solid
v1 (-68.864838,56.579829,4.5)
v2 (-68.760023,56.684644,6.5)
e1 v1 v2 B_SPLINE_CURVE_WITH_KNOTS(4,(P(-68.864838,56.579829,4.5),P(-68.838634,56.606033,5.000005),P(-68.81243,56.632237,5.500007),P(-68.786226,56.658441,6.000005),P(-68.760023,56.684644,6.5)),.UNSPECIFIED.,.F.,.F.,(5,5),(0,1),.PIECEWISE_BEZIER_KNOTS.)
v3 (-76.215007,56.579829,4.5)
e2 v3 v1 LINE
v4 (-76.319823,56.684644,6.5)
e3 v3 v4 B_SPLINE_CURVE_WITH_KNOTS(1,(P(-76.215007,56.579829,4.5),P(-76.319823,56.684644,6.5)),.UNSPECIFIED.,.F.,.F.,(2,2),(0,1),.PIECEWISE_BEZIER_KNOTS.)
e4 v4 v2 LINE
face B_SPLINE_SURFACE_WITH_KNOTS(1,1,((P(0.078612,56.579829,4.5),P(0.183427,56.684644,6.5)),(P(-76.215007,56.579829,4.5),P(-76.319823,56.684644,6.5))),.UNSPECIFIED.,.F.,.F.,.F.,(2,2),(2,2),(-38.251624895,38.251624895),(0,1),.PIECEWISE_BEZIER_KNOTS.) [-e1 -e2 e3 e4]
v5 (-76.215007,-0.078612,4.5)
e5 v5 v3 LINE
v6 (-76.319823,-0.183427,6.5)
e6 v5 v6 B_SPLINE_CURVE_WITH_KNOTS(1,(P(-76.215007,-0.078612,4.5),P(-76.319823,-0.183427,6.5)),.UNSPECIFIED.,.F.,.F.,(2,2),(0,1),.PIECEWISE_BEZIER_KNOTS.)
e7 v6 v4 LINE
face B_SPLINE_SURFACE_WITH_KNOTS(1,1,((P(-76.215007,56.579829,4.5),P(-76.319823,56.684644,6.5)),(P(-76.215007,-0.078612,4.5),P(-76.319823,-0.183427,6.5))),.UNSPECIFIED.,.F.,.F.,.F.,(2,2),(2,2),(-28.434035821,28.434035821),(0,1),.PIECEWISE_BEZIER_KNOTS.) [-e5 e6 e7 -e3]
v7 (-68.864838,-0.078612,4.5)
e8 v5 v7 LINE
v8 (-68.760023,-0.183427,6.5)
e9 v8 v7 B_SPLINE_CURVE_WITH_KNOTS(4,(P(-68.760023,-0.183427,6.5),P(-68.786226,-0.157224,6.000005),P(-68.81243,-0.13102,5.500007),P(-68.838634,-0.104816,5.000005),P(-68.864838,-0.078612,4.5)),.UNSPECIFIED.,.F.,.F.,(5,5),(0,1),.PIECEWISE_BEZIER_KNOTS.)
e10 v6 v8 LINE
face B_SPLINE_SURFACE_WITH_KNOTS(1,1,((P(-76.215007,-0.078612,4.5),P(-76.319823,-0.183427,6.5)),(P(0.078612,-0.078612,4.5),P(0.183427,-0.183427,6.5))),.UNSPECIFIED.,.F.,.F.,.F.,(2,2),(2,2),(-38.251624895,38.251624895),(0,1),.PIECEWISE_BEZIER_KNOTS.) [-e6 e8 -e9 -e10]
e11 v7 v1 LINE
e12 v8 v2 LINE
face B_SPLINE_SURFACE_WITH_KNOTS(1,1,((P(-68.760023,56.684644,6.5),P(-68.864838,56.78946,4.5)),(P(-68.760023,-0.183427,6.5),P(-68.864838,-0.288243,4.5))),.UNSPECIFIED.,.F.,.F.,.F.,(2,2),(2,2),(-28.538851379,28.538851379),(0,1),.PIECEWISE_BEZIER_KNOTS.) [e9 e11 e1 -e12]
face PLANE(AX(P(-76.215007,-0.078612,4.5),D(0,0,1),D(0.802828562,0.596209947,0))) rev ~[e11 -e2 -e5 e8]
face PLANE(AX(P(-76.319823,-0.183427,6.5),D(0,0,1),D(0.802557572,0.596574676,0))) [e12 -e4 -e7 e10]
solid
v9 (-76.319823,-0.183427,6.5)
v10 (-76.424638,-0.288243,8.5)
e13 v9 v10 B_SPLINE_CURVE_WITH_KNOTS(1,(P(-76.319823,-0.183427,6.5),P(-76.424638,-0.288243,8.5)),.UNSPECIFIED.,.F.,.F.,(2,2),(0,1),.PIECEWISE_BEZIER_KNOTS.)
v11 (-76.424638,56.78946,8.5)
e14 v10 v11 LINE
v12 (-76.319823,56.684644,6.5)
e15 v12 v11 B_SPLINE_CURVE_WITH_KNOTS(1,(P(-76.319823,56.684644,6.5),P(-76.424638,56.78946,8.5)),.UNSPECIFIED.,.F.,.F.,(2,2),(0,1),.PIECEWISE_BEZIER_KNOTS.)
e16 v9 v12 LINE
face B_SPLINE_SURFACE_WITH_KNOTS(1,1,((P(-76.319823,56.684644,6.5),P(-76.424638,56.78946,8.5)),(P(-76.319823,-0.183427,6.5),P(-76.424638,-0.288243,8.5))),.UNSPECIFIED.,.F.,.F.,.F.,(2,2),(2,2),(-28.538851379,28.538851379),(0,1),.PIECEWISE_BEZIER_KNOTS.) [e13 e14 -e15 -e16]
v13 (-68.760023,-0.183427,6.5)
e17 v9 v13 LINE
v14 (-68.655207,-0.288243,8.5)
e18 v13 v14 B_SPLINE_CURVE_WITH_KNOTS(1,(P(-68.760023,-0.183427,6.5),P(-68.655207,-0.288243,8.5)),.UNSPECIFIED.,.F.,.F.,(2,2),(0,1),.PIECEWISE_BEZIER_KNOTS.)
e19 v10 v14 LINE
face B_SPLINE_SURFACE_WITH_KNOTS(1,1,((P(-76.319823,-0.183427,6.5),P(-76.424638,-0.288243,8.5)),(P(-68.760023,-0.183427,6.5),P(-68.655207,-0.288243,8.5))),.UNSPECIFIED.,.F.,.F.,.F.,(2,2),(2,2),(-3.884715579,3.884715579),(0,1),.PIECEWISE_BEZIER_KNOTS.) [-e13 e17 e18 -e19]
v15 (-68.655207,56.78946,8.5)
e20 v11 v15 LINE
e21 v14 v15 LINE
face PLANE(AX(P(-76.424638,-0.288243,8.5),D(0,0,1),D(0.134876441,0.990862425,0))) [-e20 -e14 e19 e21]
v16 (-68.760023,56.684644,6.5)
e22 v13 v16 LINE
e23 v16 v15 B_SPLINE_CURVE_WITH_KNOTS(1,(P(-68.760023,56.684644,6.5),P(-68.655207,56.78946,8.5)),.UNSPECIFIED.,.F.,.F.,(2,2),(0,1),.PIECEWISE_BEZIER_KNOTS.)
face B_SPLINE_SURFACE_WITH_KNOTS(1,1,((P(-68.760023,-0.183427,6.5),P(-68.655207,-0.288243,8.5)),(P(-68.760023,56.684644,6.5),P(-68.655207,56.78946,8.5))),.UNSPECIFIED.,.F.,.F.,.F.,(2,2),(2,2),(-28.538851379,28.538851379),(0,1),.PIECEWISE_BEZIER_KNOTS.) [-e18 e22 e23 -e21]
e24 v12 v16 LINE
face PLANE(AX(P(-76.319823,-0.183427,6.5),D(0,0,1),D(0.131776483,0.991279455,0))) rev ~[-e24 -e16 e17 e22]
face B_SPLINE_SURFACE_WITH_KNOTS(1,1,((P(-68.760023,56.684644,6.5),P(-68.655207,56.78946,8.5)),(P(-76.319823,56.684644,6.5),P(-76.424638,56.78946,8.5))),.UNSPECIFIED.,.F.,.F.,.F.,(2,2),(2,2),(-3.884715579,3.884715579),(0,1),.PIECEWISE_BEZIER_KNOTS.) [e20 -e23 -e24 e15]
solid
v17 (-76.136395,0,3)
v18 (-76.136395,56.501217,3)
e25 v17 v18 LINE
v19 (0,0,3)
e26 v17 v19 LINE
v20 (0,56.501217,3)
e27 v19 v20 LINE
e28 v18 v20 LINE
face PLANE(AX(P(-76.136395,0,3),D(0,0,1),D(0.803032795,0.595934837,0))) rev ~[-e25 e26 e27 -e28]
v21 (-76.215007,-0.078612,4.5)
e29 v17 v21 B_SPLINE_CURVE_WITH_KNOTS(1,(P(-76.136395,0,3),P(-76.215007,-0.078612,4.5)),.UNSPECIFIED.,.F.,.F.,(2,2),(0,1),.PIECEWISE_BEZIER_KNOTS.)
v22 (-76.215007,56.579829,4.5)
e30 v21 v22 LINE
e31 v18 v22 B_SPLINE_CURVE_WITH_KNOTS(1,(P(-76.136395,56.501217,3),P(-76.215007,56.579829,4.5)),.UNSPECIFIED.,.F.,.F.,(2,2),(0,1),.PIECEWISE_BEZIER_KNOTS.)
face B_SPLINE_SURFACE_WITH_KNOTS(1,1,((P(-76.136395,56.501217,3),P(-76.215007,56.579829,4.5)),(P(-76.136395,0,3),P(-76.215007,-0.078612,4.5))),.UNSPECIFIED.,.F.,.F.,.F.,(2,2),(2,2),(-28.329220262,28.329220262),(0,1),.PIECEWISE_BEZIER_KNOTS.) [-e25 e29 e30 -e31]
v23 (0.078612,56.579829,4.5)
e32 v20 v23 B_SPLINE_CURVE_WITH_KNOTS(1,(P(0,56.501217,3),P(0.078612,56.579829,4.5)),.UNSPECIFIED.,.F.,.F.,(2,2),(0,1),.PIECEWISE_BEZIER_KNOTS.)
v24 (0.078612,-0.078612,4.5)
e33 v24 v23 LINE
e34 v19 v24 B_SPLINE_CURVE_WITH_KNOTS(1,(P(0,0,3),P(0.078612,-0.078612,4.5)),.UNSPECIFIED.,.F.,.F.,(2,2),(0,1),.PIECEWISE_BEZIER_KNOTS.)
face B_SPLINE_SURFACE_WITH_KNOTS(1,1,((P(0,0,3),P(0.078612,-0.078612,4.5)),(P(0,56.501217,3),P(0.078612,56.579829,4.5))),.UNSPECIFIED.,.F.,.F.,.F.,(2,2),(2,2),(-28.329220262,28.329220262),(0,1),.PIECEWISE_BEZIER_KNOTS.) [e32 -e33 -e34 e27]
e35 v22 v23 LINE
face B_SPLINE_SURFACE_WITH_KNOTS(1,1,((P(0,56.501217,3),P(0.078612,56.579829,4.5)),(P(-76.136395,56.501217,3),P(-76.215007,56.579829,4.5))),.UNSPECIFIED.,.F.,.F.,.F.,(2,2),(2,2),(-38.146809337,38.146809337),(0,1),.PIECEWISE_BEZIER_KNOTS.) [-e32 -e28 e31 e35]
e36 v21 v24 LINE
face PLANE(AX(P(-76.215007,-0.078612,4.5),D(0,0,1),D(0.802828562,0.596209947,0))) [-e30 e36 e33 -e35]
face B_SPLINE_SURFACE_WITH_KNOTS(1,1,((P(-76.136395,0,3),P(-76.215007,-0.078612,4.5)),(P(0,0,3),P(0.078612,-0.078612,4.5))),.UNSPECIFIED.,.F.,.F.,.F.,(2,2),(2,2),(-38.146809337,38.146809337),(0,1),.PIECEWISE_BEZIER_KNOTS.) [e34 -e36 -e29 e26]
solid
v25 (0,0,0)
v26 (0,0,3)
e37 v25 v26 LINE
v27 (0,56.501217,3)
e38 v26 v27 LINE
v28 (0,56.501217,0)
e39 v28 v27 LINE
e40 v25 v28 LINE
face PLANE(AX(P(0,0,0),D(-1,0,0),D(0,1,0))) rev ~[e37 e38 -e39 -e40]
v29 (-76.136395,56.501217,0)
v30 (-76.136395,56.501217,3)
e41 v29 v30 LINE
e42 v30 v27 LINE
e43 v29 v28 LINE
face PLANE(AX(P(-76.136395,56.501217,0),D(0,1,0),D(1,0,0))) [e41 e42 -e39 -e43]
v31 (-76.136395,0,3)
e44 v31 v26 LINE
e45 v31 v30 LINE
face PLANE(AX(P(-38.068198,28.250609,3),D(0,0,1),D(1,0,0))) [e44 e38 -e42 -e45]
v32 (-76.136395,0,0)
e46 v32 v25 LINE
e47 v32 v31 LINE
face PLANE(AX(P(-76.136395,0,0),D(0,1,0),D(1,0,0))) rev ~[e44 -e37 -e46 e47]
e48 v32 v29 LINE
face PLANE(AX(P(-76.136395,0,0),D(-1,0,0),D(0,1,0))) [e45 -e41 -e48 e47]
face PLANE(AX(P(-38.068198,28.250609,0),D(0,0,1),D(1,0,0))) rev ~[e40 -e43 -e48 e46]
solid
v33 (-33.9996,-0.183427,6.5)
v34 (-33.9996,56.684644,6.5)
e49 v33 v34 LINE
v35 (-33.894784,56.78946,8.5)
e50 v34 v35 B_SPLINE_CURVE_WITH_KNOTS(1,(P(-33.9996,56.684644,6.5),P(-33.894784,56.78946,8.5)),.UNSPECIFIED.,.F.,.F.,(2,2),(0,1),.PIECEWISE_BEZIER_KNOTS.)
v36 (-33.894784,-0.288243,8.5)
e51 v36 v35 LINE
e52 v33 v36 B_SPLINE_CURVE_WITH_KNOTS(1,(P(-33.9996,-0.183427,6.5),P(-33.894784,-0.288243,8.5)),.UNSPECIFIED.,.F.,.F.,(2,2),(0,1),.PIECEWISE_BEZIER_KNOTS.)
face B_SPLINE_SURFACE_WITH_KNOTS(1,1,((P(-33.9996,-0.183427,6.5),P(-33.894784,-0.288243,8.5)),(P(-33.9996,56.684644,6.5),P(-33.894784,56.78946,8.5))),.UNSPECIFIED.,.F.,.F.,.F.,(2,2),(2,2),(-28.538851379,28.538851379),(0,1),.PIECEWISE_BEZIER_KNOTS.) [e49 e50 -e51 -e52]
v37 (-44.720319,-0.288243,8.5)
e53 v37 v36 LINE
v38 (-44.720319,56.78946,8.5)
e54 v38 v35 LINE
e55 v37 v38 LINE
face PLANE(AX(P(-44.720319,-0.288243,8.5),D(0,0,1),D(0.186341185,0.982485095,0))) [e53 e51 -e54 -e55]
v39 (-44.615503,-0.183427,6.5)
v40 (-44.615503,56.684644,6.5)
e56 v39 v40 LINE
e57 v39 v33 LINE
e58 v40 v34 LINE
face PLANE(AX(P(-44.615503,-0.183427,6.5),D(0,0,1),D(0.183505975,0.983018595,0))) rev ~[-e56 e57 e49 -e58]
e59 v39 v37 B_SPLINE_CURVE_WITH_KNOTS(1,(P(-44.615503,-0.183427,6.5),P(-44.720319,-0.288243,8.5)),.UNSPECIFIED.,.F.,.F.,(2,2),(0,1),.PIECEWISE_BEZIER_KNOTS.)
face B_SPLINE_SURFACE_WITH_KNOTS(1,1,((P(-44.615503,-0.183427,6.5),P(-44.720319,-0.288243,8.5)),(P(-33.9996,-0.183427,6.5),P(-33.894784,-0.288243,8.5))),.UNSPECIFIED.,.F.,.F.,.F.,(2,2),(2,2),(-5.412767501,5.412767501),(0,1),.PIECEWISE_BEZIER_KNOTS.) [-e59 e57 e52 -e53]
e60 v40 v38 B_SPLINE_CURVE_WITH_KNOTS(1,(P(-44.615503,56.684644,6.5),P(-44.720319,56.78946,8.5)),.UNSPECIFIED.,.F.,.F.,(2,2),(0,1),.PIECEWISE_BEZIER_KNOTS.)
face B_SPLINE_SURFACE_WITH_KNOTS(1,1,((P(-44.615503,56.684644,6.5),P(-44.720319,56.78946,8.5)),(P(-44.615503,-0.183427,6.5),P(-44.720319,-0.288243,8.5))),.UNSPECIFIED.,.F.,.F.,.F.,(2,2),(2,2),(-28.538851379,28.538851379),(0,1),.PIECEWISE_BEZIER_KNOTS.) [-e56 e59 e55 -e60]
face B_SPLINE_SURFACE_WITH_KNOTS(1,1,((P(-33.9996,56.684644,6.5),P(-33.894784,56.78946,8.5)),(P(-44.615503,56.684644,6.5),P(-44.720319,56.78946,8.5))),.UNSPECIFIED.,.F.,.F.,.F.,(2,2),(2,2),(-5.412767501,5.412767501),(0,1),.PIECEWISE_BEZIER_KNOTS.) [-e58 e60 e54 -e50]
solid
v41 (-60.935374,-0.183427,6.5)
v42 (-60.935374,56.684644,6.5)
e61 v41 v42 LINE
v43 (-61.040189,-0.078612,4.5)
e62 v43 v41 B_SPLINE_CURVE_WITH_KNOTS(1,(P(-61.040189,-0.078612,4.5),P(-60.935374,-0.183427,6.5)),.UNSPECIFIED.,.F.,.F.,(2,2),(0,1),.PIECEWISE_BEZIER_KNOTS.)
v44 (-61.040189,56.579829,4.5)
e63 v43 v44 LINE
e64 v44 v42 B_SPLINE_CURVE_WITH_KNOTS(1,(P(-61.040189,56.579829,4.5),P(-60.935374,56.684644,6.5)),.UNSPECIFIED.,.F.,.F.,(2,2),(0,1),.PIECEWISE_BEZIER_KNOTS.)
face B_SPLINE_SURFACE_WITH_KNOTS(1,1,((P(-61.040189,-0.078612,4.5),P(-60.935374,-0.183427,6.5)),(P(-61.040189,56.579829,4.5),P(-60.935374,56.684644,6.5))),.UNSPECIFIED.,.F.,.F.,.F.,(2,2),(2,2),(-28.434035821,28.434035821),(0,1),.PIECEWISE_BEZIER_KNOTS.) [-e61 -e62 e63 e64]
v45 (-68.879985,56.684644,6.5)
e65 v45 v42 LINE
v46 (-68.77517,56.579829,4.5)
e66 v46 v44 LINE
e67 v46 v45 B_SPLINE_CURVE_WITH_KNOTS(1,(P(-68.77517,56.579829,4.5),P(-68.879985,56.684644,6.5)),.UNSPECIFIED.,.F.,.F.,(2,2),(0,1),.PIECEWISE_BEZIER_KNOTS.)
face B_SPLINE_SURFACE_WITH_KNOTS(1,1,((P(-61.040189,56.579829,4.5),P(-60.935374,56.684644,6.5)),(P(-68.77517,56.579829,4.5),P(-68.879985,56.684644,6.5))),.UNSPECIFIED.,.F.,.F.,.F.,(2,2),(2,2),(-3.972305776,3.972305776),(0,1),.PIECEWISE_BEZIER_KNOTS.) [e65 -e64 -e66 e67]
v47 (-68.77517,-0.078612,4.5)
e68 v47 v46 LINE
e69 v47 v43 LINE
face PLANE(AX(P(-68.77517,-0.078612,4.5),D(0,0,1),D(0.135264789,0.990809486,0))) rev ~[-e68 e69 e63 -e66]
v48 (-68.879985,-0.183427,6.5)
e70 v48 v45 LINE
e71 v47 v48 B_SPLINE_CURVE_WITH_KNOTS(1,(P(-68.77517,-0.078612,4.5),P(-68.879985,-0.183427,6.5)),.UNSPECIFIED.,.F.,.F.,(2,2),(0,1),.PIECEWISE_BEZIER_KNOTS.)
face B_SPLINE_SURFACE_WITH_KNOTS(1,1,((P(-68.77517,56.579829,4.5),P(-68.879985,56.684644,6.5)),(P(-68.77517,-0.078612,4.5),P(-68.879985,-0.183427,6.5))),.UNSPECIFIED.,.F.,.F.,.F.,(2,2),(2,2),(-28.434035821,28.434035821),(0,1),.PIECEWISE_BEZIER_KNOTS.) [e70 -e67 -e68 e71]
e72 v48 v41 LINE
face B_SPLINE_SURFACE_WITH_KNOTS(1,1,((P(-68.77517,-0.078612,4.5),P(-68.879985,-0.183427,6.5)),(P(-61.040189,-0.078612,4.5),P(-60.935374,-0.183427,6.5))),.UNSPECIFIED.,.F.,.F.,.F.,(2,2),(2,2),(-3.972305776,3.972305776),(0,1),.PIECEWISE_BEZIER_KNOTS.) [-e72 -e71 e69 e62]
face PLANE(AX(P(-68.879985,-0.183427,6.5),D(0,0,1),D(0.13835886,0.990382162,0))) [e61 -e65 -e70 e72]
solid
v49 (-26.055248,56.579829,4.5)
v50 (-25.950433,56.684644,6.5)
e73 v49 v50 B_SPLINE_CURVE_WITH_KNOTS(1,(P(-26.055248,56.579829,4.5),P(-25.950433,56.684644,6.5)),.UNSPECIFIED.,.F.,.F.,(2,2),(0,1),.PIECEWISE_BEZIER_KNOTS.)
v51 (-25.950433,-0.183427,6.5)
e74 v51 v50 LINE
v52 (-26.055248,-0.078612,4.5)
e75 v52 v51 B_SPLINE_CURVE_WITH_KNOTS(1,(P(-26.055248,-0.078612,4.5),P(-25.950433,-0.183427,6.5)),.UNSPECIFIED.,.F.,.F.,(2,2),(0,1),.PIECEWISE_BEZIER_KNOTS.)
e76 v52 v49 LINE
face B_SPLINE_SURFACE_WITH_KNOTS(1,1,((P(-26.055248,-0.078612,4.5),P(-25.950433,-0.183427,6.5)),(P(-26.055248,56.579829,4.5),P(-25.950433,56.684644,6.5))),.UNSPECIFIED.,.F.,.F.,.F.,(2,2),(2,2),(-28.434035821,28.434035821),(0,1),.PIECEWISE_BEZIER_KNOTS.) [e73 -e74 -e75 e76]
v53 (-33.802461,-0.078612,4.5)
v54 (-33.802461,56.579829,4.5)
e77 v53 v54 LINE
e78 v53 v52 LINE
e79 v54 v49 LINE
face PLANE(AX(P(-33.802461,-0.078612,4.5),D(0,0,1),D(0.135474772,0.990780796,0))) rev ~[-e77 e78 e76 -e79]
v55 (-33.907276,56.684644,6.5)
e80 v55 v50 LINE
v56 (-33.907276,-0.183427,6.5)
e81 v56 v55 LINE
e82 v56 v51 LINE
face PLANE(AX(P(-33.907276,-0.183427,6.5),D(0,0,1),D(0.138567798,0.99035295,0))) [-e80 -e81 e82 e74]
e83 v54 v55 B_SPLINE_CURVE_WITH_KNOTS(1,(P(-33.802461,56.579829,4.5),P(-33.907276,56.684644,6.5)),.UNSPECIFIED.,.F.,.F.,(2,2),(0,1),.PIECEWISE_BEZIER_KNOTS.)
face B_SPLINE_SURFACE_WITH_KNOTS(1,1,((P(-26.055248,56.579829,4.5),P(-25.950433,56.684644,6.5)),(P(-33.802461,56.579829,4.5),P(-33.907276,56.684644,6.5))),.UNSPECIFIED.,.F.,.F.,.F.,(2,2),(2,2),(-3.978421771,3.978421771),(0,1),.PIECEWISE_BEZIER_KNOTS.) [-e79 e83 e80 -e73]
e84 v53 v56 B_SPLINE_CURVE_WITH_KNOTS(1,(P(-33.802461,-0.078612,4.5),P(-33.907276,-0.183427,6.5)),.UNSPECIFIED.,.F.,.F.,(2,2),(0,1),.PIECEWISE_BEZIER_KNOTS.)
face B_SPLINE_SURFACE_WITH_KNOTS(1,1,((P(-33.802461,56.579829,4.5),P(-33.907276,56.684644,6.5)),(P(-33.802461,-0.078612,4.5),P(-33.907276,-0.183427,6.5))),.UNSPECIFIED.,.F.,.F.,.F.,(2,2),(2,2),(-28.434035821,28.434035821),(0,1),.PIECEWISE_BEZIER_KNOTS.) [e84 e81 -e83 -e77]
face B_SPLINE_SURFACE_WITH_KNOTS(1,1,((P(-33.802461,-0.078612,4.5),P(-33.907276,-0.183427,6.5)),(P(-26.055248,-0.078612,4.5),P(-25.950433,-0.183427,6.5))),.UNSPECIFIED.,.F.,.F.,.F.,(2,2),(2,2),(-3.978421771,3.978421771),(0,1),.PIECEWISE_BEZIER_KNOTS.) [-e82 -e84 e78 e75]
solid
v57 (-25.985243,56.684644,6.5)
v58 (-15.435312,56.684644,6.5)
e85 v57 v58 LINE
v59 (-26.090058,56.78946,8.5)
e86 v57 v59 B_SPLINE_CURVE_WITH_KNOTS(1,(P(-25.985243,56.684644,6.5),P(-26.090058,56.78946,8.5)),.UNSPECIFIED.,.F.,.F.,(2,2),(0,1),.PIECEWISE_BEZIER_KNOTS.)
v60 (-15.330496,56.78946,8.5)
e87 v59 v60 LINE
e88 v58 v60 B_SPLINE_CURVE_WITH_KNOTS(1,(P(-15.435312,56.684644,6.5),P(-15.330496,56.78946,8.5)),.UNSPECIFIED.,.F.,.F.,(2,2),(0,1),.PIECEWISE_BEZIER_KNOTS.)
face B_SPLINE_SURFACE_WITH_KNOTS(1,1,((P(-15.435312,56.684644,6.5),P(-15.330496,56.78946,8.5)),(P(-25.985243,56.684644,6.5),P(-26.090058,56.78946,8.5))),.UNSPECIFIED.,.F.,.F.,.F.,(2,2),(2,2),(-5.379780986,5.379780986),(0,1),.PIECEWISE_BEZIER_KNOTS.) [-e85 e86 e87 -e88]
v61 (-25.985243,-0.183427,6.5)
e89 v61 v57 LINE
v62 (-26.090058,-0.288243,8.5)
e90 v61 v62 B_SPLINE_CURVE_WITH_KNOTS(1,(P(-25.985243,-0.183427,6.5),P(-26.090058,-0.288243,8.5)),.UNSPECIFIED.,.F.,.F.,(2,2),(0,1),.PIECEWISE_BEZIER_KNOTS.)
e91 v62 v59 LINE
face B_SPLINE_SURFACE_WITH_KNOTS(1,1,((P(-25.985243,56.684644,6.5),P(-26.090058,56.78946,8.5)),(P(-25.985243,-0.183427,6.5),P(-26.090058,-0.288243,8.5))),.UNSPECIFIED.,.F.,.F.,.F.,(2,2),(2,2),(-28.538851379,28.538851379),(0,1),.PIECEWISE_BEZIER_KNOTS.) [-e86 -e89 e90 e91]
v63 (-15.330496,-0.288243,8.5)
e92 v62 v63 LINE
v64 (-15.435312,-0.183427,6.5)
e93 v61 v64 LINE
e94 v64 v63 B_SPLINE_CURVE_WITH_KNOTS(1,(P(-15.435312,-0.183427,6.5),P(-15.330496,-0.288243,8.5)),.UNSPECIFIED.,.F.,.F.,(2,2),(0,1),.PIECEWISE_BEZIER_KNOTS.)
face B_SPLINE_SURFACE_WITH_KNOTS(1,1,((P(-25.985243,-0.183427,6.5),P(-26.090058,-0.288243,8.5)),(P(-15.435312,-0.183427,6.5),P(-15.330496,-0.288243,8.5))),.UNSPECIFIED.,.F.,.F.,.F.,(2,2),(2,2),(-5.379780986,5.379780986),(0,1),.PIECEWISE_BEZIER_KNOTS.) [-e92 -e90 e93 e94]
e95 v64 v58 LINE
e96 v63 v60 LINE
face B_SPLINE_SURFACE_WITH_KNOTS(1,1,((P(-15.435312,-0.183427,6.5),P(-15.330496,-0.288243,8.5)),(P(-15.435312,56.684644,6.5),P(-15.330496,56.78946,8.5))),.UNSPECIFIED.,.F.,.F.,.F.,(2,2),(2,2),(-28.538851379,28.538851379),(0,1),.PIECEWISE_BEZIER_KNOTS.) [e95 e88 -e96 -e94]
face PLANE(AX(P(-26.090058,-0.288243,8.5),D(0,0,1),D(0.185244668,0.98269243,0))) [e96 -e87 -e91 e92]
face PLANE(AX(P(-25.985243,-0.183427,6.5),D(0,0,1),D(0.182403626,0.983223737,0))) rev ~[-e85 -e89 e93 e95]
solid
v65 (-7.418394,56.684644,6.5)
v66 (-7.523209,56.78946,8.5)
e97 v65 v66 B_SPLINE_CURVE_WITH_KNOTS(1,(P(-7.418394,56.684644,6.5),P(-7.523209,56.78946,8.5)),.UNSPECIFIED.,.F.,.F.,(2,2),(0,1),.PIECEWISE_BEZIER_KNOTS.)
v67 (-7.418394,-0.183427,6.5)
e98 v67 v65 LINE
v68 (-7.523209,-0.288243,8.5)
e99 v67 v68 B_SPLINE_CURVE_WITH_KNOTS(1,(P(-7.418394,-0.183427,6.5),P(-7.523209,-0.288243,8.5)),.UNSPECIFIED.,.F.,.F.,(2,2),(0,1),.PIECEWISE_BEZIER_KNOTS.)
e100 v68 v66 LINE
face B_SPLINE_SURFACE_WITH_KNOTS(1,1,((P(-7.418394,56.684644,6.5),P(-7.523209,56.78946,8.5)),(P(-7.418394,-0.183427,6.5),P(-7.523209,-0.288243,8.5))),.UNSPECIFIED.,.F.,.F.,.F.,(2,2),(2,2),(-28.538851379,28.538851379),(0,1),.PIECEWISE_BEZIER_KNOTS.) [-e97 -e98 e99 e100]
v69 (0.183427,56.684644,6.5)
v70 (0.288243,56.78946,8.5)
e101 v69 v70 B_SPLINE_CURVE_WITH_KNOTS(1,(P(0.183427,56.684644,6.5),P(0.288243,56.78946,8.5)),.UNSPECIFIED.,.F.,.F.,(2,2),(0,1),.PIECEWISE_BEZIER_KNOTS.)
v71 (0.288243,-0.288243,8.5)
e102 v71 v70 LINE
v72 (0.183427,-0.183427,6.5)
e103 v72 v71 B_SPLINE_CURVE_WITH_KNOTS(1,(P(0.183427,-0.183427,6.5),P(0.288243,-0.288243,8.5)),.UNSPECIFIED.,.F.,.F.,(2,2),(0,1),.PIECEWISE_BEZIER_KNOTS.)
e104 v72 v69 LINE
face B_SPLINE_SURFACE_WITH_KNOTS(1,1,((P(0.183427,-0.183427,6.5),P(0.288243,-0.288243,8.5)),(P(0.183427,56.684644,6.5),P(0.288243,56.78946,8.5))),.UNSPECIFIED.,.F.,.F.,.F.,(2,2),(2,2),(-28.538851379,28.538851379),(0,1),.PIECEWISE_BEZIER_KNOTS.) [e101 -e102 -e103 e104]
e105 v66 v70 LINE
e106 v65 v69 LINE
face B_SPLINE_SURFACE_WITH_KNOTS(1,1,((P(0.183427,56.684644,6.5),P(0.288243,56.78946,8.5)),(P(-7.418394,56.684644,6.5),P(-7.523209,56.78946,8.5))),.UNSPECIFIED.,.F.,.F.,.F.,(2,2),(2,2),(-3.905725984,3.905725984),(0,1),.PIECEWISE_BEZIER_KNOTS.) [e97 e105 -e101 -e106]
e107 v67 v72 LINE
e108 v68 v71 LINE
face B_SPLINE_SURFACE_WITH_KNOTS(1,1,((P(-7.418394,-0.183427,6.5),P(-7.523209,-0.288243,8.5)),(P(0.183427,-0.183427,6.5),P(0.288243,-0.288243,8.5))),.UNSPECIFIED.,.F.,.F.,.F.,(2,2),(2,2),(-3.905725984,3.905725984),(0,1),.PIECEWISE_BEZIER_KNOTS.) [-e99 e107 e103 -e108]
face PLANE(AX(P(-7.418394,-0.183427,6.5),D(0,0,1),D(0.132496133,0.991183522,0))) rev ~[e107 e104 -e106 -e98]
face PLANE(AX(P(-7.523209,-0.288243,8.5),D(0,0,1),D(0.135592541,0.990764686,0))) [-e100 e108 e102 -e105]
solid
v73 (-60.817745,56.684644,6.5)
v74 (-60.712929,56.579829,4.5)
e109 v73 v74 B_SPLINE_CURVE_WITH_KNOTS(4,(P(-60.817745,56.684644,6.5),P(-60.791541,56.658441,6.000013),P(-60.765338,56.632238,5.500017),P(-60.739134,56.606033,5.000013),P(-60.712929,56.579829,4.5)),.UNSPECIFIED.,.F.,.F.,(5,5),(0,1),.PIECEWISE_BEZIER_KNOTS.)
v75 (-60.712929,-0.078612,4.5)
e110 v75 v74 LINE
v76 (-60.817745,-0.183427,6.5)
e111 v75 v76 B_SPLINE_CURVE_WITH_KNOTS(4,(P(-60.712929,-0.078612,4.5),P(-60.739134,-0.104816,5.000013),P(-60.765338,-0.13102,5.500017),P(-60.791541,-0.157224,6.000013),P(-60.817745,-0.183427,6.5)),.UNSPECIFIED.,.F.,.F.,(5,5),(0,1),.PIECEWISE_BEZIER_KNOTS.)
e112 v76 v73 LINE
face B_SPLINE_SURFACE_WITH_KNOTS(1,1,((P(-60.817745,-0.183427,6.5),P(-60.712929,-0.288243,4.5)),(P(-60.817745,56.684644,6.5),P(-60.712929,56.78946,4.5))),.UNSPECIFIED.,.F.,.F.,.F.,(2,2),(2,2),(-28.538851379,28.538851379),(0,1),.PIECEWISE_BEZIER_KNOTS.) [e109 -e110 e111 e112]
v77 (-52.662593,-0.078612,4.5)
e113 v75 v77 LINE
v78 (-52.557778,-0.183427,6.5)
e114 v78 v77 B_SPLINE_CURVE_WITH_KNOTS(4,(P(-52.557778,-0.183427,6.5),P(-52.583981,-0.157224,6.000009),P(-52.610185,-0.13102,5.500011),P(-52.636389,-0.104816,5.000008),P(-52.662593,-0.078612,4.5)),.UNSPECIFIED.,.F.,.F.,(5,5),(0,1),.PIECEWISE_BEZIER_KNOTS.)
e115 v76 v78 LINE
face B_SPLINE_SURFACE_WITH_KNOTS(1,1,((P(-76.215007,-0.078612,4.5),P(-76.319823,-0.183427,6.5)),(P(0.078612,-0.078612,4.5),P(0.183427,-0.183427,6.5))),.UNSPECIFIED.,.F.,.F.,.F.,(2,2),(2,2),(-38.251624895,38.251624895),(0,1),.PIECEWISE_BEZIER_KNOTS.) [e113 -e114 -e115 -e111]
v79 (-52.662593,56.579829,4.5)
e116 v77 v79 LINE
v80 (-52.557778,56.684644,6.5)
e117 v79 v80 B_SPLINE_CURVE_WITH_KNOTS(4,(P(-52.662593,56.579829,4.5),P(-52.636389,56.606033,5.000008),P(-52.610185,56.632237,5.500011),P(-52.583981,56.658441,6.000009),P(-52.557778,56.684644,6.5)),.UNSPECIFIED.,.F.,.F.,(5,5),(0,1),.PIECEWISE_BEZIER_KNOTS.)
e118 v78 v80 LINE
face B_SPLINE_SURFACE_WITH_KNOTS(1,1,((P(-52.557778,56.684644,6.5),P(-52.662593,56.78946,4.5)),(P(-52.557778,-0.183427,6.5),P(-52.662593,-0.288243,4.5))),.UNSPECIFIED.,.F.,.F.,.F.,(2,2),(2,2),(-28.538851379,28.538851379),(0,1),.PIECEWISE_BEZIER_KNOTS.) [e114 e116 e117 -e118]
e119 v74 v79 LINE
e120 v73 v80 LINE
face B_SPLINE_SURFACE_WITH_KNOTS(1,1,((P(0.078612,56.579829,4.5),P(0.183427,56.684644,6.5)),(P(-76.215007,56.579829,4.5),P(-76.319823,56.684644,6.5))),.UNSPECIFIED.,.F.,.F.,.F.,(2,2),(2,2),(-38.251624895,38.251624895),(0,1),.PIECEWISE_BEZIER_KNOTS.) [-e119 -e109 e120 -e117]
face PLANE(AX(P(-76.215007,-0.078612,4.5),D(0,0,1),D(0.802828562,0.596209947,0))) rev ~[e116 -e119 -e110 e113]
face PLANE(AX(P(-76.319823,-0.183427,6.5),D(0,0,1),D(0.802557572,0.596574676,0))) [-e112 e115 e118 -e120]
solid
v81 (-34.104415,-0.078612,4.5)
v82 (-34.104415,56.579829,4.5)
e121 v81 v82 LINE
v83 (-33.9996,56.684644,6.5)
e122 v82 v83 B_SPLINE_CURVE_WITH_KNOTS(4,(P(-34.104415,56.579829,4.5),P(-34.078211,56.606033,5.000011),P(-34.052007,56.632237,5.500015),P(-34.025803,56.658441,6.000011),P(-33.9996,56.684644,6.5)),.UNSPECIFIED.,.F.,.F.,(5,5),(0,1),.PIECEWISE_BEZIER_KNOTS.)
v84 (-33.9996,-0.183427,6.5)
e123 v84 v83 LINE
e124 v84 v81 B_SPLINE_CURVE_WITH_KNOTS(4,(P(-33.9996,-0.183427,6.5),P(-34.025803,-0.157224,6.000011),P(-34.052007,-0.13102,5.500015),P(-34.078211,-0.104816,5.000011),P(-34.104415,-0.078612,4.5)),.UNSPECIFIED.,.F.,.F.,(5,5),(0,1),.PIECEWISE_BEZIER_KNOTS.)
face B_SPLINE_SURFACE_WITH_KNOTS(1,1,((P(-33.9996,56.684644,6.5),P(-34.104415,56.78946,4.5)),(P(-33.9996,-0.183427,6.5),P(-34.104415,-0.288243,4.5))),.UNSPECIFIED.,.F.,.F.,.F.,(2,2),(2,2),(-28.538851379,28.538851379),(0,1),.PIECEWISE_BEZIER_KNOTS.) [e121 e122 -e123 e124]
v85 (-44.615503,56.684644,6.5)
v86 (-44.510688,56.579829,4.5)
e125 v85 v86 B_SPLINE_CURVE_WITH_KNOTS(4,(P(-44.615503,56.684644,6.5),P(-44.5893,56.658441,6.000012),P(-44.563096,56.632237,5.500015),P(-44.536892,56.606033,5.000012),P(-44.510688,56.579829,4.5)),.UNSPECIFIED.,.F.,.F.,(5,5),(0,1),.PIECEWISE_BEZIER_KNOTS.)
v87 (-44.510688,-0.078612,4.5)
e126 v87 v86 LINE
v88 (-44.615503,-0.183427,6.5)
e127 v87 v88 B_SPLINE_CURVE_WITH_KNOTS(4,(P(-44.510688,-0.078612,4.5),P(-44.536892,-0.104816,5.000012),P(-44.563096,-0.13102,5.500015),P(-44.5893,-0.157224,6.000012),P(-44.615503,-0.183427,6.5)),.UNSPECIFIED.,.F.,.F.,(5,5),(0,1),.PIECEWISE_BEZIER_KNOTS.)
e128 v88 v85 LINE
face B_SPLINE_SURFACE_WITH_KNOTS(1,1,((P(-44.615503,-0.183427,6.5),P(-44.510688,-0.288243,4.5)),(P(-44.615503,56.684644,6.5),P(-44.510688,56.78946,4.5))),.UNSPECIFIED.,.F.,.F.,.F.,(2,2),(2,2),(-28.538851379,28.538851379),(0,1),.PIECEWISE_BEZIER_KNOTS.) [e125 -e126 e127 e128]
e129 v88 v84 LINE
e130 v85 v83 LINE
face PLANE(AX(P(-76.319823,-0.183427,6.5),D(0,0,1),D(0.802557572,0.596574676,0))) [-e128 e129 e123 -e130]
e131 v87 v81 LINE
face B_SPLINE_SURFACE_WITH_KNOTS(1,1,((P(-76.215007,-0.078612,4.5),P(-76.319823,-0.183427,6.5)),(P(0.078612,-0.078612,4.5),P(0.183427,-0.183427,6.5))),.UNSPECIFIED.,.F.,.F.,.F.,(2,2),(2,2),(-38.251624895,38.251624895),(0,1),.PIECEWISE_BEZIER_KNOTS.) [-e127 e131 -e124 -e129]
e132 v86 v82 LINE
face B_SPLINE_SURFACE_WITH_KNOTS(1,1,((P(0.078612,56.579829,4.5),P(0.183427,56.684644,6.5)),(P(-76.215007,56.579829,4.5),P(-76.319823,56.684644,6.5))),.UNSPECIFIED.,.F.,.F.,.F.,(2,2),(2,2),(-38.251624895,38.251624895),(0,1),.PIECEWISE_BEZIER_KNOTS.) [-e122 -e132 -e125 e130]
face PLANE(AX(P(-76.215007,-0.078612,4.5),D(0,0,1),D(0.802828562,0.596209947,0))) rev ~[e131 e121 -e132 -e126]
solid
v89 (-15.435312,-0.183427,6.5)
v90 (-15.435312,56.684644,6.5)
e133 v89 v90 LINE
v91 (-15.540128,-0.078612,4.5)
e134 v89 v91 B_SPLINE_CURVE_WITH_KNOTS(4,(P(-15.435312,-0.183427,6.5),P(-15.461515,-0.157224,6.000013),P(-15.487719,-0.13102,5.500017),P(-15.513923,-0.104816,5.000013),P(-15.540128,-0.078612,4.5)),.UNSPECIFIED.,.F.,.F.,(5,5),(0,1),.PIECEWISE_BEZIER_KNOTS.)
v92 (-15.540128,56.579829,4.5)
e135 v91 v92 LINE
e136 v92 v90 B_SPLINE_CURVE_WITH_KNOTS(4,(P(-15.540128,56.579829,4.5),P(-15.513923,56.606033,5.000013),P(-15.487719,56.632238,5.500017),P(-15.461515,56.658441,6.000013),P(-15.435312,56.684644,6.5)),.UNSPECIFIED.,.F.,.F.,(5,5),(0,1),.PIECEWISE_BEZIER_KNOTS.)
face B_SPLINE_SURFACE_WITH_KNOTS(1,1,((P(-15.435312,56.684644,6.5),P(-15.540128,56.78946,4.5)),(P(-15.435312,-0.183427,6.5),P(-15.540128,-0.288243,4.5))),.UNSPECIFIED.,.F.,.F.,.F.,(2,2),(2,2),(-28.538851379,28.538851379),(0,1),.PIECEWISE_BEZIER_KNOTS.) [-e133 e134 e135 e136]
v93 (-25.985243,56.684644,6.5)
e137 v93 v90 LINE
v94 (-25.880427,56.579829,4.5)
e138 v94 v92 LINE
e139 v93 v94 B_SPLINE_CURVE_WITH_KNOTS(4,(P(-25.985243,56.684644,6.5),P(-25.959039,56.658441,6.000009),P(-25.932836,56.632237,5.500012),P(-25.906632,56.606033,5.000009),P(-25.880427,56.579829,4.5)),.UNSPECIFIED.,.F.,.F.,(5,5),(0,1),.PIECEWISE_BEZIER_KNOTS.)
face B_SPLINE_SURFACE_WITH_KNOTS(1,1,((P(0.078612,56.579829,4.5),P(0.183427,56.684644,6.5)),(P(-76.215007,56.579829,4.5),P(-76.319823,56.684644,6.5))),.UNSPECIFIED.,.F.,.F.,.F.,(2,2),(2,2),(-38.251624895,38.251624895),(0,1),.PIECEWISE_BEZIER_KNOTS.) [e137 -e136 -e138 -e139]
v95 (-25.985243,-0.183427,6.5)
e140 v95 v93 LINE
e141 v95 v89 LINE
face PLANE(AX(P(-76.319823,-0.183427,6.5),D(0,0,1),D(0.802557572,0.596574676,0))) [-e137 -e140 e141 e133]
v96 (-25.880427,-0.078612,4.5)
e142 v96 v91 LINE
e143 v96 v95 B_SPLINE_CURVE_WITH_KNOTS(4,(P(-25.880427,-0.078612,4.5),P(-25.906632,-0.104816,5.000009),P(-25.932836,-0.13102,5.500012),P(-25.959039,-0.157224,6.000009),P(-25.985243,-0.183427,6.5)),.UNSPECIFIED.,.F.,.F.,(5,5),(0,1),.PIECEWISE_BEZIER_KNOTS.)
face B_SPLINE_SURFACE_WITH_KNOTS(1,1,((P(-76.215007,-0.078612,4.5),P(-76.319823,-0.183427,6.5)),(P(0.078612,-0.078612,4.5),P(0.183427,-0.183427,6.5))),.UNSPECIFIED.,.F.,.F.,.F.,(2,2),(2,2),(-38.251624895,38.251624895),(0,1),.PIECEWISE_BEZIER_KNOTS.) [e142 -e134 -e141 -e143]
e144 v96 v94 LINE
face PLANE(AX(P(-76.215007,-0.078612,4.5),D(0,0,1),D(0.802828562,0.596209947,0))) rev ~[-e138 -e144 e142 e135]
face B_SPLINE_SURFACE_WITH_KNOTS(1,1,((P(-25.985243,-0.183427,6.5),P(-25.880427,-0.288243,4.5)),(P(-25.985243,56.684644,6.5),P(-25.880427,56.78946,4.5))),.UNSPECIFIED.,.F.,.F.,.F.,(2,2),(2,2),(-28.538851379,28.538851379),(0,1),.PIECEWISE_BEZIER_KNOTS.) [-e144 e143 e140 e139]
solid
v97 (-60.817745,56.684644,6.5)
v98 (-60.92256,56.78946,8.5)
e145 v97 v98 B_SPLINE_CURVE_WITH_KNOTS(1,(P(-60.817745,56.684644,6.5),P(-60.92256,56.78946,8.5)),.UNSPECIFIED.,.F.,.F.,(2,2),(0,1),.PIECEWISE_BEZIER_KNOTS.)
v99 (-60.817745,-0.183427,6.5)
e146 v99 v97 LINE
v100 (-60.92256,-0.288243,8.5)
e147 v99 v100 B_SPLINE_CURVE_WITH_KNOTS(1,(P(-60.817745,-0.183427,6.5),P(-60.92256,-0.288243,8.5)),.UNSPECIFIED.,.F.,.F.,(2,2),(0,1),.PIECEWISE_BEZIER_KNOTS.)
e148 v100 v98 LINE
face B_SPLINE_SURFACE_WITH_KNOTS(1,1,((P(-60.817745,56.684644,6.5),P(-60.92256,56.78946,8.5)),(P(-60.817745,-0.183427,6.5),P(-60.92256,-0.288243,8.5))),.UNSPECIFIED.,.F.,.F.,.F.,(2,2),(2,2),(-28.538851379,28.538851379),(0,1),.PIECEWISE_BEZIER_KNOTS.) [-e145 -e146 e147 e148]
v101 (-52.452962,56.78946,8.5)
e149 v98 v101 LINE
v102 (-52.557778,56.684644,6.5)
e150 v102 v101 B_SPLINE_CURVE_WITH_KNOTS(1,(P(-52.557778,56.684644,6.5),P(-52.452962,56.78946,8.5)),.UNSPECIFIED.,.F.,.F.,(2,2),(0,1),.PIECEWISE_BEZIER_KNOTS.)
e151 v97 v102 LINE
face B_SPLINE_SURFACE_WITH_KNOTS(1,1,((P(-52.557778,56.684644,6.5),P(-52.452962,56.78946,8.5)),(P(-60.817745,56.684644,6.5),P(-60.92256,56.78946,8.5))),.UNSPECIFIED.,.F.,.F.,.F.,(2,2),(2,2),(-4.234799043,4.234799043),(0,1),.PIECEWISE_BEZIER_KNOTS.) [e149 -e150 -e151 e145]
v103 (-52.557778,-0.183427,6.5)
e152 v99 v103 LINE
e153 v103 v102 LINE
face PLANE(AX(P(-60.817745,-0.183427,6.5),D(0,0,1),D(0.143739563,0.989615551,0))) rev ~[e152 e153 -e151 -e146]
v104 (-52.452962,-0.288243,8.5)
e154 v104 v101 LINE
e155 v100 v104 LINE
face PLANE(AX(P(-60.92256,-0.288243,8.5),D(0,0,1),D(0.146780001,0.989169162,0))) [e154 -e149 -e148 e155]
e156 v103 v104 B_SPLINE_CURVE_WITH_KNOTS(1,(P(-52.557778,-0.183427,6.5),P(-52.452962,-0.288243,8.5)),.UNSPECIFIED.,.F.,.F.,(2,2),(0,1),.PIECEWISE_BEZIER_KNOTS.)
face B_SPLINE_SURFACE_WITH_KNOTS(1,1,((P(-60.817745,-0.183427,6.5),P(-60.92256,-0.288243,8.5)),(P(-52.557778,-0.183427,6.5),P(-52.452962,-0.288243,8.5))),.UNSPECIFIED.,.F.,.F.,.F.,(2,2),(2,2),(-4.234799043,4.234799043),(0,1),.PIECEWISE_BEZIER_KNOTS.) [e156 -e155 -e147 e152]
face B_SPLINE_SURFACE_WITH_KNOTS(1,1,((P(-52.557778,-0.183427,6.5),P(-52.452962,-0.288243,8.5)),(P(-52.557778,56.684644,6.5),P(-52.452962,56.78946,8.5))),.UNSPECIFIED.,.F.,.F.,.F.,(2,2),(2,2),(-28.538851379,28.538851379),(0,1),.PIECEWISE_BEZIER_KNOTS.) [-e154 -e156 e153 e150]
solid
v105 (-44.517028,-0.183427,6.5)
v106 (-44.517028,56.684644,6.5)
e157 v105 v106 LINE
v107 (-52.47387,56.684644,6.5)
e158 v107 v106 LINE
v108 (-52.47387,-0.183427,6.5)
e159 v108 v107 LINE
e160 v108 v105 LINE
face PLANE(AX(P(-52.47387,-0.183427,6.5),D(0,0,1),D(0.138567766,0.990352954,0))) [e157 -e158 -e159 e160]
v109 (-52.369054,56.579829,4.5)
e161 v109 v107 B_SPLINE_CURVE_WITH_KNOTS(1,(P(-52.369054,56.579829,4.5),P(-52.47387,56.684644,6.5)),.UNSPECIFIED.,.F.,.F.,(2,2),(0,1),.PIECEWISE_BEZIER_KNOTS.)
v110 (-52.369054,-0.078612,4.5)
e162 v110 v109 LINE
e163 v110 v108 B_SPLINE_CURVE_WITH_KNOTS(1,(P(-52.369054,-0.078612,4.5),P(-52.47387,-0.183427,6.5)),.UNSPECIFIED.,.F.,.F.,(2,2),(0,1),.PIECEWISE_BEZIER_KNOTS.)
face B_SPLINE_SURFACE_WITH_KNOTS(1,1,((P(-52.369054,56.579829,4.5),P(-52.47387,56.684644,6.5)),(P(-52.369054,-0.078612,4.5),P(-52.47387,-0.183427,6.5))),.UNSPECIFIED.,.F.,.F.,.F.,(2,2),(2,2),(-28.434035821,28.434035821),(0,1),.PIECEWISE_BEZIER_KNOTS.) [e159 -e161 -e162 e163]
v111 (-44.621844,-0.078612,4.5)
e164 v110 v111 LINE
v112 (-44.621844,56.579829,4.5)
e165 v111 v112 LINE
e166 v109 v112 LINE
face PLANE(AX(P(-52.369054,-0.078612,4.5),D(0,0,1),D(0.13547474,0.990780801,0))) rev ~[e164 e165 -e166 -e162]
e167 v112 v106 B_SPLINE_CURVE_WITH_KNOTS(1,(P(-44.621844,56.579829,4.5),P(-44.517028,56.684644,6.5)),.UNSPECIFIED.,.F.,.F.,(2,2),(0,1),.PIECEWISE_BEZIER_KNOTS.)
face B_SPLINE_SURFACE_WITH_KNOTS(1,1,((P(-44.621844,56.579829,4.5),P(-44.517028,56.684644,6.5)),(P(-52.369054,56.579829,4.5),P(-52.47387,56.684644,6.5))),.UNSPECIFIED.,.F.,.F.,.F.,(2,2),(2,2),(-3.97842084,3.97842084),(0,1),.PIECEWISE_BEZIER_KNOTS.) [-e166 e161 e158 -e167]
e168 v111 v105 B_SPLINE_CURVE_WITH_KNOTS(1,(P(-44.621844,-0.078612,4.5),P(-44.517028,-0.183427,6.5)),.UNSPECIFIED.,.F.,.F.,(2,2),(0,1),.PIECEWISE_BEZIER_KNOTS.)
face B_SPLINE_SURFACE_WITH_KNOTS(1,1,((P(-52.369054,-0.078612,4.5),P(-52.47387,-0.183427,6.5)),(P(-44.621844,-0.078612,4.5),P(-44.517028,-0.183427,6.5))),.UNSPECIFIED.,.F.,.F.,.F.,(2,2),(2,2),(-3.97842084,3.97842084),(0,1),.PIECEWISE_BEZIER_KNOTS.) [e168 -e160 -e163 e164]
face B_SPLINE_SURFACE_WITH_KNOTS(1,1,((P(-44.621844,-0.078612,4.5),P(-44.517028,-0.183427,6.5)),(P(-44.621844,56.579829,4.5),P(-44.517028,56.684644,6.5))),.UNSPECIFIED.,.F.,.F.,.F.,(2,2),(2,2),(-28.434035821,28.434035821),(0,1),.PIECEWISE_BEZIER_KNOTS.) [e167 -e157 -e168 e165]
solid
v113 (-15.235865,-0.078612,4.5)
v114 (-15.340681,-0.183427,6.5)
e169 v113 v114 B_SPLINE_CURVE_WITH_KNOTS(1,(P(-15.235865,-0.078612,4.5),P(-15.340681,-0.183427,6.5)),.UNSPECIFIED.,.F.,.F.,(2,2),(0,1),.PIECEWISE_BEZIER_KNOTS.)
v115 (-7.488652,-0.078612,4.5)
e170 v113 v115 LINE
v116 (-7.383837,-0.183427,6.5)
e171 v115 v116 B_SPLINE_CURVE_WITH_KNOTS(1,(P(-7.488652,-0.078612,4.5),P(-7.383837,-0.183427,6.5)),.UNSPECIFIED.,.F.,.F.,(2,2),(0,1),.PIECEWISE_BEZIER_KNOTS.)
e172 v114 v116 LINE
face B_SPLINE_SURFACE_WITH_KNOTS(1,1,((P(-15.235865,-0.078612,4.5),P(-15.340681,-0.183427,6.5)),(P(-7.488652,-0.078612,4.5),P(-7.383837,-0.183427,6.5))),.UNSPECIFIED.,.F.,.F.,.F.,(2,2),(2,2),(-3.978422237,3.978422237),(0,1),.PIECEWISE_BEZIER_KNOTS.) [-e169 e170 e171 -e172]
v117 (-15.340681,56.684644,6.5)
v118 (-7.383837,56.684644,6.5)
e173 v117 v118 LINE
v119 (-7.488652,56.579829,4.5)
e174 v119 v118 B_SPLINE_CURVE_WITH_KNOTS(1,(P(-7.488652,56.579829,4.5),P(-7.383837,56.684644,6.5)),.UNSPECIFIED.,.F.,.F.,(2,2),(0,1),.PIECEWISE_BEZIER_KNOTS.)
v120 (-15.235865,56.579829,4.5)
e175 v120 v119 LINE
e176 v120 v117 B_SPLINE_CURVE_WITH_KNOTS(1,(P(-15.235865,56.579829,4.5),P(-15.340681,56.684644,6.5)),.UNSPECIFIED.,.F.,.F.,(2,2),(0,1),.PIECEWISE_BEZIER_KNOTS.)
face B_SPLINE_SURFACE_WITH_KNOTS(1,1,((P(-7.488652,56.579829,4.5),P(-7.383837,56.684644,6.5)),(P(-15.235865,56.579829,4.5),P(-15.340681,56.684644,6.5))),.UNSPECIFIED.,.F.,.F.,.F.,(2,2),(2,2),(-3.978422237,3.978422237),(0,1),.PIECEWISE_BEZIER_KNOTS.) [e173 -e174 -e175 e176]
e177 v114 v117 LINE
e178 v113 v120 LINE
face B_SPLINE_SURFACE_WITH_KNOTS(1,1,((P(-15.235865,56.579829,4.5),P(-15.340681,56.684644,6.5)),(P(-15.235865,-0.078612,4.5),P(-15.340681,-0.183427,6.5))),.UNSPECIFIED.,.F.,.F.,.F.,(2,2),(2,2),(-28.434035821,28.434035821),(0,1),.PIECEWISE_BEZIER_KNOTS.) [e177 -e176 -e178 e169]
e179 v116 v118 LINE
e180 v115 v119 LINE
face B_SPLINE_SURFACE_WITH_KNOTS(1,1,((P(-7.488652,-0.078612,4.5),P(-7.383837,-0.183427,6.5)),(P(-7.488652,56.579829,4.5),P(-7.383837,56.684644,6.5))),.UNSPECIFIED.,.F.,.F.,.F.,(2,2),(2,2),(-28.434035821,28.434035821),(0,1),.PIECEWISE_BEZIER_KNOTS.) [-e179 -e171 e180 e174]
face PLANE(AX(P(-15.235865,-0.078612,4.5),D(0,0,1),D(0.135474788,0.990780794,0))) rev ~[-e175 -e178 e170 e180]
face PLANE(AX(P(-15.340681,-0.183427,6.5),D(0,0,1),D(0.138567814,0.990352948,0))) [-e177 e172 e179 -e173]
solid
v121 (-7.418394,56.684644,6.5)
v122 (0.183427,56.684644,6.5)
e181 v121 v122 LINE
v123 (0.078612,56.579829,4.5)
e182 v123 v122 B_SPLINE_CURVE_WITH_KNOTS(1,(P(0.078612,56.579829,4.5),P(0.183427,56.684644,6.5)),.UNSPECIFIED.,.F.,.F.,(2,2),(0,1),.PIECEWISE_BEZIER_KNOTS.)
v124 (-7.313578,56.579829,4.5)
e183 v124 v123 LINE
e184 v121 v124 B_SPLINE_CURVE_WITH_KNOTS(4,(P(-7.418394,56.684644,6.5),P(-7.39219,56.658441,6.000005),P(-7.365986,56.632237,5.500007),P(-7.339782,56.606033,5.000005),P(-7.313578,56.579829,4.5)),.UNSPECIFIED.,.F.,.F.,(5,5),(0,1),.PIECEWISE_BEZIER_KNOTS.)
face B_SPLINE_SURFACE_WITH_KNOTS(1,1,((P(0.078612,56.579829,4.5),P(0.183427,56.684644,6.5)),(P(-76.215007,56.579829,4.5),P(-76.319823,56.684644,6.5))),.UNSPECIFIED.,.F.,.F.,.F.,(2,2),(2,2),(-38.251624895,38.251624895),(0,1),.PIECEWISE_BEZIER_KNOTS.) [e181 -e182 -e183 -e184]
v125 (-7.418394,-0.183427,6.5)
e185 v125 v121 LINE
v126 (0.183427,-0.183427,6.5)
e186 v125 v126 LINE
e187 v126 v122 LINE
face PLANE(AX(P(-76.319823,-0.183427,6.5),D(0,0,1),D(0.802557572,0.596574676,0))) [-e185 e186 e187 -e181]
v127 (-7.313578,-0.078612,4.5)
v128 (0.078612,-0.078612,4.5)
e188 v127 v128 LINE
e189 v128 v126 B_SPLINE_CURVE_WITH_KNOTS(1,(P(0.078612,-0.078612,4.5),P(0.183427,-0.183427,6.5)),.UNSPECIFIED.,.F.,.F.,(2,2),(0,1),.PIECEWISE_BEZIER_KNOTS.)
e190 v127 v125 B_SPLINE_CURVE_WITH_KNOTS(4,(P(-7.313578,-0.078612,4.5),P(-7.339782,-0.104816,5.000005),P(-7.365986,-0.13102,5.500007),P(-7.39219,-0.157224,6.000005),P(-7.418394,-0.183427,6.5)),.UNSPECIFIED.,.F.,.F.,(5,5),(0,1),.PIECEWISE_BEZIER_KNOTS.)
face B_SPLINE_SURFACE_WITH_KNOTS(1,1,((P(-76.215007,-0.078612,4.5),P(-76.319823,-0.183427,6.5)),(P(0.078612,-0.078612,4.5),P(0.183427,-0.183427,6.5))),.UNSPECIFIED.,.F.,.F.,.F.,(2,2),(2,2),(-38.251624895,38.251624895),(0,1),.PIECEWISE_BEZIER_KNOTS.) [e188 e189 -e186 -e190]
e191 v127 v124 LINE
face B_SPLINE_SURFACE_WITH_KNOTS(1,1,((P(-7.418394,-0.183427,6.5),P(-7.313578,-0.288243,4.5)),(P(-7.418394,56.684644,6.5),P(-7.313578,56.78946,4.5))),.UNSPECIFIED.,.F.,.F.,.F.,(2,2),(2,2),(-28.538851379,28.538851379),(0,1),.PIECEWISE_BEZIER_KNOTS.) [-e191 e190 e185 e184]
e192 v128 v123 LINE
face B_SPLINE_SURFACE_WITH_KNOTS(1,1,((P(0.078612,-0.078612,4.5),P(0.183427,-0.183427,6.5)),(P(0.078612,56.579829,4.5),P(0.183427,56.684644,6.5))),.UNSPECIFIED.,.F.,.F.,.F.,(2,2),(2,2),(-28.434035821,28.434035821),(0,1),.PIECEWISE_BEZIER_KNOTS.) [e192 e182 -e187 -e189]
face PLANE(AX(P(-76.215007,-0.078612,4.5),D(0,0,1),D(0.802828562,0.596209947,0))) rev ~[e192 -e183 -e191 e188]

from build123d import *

# Parameters (mm, degrees)
F0_W      = 76.1363953352
F0_H      = 56.5012171865
F1_DEPTH  = 3
F2_W      = 76.1363953352
F2_H      = 56.5012171865
F3_DEPTH  = 1.5
F3_TAPER  = -3
F4_W      = 76.293618673
F4_H      = 56.6584405243
F5_DEPTH  = 2
F5_TAPER  = -3
F6_W      = 7.9422779381
F6_H      = 56.8680716414
F7_DEPTH  = 2
F7_TAPER  = -3
F8_W      = 7.9422742128
F8_H      = 56.8680716414
F9_DEPTH  = 2
F9_TAPER  = -3
F10_W     = 8.0143567175
F10_H     = 56.8680716414
F11_DEPTH = 2
F11_TAPER = -3
F12_W     = 8.0169183202
F12_H     = 56.8680716414
F13_DEPTH = 2
F13_TAPER = -3
F14_W     = 7.5598000417
F14_H     = 56.8680716414
F15_DEPTH = 2
F15_TAPER = -3
F16_W     = 8.2599669695
F16_H     = 56.8680716414
F17_DEPTH = 2
F17_TAPER = -3
F18_W     = 7.7349804342
F18_H     = 56.6584405243
F19_DEPTH = 2
F19_TAPER = -3
F20_W     = 7.7472105622
F20_H     = 56.6584405243
F21_DEPTH = 2
F21_TAPER = -3
F22_W     = 10.6159038842
F22_H     = 56.8680716414
F23_DEPTH = 2
F23_TAPER = -3
F24_W     = 7.7472124249
F24_H     = 56.6584405243
F25_DEPTH = 2
F25_TAPER = -3
F26_W     = 10.5499308556
F26_H     = 56.8680716414
F27_DEPTH = 2
F27_TAPER = -3
F28_W     = 7.7472133562
F28_H     = 56.6584405243
F29_DEPTH = 2
F29_TAPER = -3
F30_W     = 7.6018208506
F30_H     = 56.8680716414
F31_DEPTH = 2
F31_TAPER = -3


with BuildPart() as f1:
    # F0 (on Top) → F1 (new body)
    with BuildSketch(Plane.XY):
        with Locations((-38.0681976676, 28.2506085932)):
            Rectangle(F0_W, F0_H)
    extrude(amount=F1_DEPTH)


with BuildPart() as f3:
    # F2 (on face) → F3 (new body)
    with BuildSketch(Plane.XY.offset(3)):
        with Locations((-38.0681976676, 28.2506085932)):
            Rectangle(F2_W, F2_H)
    extrude(amount=F3_DEPTH, taper=F3_TAPER)


with BuildPart() as f5:
    # F4 (on face) → F5 (new body)
    with BuildSketch(Plane.XY.offset(4.5)):
        with Locations((-38.0681976676, 28.2506085932)):
            Rectangle(F4_W, F4_H)
    extrude(amount=F5_DEPTH, taper=F5_TAPER)

    # F6 (on face) → F7 (cut)
    with BuildSketch(Plane.XY.offset(6.5)):
        with Locations((-64.788883552, 28.2506085932)):
            Rectangle(F6_W, F6_H)
    extrude(amount=-F7_DEPTH, taper=F7_TAPER, mode=Mode.SUBTRACT)

    # F8 (on face) → F9 (cut)
    with BuildSketch(Plane.XY.offset(6.5)):
        with Locations((-48.586640507, 28.2506085932)):
            Rectangle(F8_W, F8_H)
    extrude(amount=-F9_DEPTH, taper=F9_TAPER, mode=Mode.SUBTRACT)

    # F10 (on face) → F11 (cut)
    with BuildSketch(Plane.XY.offset(6.5)):
        with Locations((-29.9924211577, 28.2506085932)):
            Rectangle(F10_W, F10_H)
    extrude(amount=-F11_DEPTH, taper=F11_TAPER, mode=Mode.SUBTRACT)

    # F12 (on face) → F13 (cut)
    with BuildSketch(Plane.XY.offset(6.5)):
        with Locations((-11.4268527832, 28.2506085932)):
            Rectangle(F12_W, F12_H)
    extrude(amount=-F13_DEPTH, taper=F13_TAPER, mode=Mode.SUBTRACT)


with BuildPart() as f15:
    # F14 (on face) → F15 (new body)
    with BuildSketch(Plane.XY.offset(6.5)):
        with Locations((-72.5399225419, 28.2506085932)):
            Rectangle(F14_W, F14_H)
    extrude(amount=F15_DEPTH, taper=F15_TAPER)


with BuildPart() as f17:
    # F16 (on face) → F17 (new body)
    with BuildSketch(Plane.XY.offset(6.5)):
        with Locations((-56.6877610981, 28.2506085932)):
            Rectangle(F16_W, F16_H)
    extrude(amount=F17_DEPTH, taper=F17_TAPER)


with BuildPart() as f19:
    # F18 (on face) → F19 (new body)
    with BuildSketch(Plane.XY.offset(4.5)):
        with Locations((-64.9076793343, 28.2506085932)):
            Rectangle(F18_W, F18_H)
    extrude(amount=F19_DEPTH, taper=F19_TAPER)


with BuildPart() as f21:
    # F20 (on face) → F21 (new body)
    with BuildSketch(Plane.XY.offset(4.5)):
        with Locations((-48.4954491258, 28.2506085932)):
            Rectangle(F20_W, F20_H)
    extrude(amount=F21_DEPTH, taper=F21_TAPER)


with BuildPart() as f23:
    # F22 (on face) → F23 (new body)
    with BuildSketch(Plane.XY.offset(6.5)):
        with Locations((-39.3075514585, 28.2506085932)):
            Rectangle(F22_W, F22_H)
    extrude(amount=F23_DEPTH, taper=F23_TAPER)


with BuildPart() as f25:
    # F24 (on face) → F25 (new body)
    with BuildSketch(Plane.XY.offset(4.5)):
        with Locations((-29.9288546667, 28.2506085932)):
            Rectangle(F24_W, F24_H)
    extrude(amount=F25_DEPTH, taper=F25_TAPER)


with BuildPart() as f27:
    # F26 (on face) → F27 (new body)
    with BuildSketch(Plane.XY.offset(6.5)):
        with Locations((-20.7102773711, 28.2506085932)):
            Rectangle(F26_W, F26_H)
    extrude(amount=F27_DEPTH, taper=F27_TAPER)


with BuildPart() as f29:
    # F28 (on face) → F29 (new body)
    with BuildSketch(Plane.XY.offset(4.5)):
        with Locations((-11.3622588105, 28.2506085932)):
            Rectangle(F28_W, F28_H)
    extrude(amount=F29_DEPTH, taper=F29_TAPER)


with BuildPart() as f31:
    # F30 (on face) → F31 (new body)
    with BuildSketch(Plane.XY.offset(6.5)):
        with Locations((-3.6174831978, 28.2506085932)):
            Rectangle(F30_W, F30_H)
    extrude(amount=F31_DEPTH, taper=F31_TAPER)


solid = Compound([f1.part, f3.part, f5.part, f15.part, f17.part, f19.part, f21.part, f23.part, f25.part, f27.part, f29.part, f31.part])
